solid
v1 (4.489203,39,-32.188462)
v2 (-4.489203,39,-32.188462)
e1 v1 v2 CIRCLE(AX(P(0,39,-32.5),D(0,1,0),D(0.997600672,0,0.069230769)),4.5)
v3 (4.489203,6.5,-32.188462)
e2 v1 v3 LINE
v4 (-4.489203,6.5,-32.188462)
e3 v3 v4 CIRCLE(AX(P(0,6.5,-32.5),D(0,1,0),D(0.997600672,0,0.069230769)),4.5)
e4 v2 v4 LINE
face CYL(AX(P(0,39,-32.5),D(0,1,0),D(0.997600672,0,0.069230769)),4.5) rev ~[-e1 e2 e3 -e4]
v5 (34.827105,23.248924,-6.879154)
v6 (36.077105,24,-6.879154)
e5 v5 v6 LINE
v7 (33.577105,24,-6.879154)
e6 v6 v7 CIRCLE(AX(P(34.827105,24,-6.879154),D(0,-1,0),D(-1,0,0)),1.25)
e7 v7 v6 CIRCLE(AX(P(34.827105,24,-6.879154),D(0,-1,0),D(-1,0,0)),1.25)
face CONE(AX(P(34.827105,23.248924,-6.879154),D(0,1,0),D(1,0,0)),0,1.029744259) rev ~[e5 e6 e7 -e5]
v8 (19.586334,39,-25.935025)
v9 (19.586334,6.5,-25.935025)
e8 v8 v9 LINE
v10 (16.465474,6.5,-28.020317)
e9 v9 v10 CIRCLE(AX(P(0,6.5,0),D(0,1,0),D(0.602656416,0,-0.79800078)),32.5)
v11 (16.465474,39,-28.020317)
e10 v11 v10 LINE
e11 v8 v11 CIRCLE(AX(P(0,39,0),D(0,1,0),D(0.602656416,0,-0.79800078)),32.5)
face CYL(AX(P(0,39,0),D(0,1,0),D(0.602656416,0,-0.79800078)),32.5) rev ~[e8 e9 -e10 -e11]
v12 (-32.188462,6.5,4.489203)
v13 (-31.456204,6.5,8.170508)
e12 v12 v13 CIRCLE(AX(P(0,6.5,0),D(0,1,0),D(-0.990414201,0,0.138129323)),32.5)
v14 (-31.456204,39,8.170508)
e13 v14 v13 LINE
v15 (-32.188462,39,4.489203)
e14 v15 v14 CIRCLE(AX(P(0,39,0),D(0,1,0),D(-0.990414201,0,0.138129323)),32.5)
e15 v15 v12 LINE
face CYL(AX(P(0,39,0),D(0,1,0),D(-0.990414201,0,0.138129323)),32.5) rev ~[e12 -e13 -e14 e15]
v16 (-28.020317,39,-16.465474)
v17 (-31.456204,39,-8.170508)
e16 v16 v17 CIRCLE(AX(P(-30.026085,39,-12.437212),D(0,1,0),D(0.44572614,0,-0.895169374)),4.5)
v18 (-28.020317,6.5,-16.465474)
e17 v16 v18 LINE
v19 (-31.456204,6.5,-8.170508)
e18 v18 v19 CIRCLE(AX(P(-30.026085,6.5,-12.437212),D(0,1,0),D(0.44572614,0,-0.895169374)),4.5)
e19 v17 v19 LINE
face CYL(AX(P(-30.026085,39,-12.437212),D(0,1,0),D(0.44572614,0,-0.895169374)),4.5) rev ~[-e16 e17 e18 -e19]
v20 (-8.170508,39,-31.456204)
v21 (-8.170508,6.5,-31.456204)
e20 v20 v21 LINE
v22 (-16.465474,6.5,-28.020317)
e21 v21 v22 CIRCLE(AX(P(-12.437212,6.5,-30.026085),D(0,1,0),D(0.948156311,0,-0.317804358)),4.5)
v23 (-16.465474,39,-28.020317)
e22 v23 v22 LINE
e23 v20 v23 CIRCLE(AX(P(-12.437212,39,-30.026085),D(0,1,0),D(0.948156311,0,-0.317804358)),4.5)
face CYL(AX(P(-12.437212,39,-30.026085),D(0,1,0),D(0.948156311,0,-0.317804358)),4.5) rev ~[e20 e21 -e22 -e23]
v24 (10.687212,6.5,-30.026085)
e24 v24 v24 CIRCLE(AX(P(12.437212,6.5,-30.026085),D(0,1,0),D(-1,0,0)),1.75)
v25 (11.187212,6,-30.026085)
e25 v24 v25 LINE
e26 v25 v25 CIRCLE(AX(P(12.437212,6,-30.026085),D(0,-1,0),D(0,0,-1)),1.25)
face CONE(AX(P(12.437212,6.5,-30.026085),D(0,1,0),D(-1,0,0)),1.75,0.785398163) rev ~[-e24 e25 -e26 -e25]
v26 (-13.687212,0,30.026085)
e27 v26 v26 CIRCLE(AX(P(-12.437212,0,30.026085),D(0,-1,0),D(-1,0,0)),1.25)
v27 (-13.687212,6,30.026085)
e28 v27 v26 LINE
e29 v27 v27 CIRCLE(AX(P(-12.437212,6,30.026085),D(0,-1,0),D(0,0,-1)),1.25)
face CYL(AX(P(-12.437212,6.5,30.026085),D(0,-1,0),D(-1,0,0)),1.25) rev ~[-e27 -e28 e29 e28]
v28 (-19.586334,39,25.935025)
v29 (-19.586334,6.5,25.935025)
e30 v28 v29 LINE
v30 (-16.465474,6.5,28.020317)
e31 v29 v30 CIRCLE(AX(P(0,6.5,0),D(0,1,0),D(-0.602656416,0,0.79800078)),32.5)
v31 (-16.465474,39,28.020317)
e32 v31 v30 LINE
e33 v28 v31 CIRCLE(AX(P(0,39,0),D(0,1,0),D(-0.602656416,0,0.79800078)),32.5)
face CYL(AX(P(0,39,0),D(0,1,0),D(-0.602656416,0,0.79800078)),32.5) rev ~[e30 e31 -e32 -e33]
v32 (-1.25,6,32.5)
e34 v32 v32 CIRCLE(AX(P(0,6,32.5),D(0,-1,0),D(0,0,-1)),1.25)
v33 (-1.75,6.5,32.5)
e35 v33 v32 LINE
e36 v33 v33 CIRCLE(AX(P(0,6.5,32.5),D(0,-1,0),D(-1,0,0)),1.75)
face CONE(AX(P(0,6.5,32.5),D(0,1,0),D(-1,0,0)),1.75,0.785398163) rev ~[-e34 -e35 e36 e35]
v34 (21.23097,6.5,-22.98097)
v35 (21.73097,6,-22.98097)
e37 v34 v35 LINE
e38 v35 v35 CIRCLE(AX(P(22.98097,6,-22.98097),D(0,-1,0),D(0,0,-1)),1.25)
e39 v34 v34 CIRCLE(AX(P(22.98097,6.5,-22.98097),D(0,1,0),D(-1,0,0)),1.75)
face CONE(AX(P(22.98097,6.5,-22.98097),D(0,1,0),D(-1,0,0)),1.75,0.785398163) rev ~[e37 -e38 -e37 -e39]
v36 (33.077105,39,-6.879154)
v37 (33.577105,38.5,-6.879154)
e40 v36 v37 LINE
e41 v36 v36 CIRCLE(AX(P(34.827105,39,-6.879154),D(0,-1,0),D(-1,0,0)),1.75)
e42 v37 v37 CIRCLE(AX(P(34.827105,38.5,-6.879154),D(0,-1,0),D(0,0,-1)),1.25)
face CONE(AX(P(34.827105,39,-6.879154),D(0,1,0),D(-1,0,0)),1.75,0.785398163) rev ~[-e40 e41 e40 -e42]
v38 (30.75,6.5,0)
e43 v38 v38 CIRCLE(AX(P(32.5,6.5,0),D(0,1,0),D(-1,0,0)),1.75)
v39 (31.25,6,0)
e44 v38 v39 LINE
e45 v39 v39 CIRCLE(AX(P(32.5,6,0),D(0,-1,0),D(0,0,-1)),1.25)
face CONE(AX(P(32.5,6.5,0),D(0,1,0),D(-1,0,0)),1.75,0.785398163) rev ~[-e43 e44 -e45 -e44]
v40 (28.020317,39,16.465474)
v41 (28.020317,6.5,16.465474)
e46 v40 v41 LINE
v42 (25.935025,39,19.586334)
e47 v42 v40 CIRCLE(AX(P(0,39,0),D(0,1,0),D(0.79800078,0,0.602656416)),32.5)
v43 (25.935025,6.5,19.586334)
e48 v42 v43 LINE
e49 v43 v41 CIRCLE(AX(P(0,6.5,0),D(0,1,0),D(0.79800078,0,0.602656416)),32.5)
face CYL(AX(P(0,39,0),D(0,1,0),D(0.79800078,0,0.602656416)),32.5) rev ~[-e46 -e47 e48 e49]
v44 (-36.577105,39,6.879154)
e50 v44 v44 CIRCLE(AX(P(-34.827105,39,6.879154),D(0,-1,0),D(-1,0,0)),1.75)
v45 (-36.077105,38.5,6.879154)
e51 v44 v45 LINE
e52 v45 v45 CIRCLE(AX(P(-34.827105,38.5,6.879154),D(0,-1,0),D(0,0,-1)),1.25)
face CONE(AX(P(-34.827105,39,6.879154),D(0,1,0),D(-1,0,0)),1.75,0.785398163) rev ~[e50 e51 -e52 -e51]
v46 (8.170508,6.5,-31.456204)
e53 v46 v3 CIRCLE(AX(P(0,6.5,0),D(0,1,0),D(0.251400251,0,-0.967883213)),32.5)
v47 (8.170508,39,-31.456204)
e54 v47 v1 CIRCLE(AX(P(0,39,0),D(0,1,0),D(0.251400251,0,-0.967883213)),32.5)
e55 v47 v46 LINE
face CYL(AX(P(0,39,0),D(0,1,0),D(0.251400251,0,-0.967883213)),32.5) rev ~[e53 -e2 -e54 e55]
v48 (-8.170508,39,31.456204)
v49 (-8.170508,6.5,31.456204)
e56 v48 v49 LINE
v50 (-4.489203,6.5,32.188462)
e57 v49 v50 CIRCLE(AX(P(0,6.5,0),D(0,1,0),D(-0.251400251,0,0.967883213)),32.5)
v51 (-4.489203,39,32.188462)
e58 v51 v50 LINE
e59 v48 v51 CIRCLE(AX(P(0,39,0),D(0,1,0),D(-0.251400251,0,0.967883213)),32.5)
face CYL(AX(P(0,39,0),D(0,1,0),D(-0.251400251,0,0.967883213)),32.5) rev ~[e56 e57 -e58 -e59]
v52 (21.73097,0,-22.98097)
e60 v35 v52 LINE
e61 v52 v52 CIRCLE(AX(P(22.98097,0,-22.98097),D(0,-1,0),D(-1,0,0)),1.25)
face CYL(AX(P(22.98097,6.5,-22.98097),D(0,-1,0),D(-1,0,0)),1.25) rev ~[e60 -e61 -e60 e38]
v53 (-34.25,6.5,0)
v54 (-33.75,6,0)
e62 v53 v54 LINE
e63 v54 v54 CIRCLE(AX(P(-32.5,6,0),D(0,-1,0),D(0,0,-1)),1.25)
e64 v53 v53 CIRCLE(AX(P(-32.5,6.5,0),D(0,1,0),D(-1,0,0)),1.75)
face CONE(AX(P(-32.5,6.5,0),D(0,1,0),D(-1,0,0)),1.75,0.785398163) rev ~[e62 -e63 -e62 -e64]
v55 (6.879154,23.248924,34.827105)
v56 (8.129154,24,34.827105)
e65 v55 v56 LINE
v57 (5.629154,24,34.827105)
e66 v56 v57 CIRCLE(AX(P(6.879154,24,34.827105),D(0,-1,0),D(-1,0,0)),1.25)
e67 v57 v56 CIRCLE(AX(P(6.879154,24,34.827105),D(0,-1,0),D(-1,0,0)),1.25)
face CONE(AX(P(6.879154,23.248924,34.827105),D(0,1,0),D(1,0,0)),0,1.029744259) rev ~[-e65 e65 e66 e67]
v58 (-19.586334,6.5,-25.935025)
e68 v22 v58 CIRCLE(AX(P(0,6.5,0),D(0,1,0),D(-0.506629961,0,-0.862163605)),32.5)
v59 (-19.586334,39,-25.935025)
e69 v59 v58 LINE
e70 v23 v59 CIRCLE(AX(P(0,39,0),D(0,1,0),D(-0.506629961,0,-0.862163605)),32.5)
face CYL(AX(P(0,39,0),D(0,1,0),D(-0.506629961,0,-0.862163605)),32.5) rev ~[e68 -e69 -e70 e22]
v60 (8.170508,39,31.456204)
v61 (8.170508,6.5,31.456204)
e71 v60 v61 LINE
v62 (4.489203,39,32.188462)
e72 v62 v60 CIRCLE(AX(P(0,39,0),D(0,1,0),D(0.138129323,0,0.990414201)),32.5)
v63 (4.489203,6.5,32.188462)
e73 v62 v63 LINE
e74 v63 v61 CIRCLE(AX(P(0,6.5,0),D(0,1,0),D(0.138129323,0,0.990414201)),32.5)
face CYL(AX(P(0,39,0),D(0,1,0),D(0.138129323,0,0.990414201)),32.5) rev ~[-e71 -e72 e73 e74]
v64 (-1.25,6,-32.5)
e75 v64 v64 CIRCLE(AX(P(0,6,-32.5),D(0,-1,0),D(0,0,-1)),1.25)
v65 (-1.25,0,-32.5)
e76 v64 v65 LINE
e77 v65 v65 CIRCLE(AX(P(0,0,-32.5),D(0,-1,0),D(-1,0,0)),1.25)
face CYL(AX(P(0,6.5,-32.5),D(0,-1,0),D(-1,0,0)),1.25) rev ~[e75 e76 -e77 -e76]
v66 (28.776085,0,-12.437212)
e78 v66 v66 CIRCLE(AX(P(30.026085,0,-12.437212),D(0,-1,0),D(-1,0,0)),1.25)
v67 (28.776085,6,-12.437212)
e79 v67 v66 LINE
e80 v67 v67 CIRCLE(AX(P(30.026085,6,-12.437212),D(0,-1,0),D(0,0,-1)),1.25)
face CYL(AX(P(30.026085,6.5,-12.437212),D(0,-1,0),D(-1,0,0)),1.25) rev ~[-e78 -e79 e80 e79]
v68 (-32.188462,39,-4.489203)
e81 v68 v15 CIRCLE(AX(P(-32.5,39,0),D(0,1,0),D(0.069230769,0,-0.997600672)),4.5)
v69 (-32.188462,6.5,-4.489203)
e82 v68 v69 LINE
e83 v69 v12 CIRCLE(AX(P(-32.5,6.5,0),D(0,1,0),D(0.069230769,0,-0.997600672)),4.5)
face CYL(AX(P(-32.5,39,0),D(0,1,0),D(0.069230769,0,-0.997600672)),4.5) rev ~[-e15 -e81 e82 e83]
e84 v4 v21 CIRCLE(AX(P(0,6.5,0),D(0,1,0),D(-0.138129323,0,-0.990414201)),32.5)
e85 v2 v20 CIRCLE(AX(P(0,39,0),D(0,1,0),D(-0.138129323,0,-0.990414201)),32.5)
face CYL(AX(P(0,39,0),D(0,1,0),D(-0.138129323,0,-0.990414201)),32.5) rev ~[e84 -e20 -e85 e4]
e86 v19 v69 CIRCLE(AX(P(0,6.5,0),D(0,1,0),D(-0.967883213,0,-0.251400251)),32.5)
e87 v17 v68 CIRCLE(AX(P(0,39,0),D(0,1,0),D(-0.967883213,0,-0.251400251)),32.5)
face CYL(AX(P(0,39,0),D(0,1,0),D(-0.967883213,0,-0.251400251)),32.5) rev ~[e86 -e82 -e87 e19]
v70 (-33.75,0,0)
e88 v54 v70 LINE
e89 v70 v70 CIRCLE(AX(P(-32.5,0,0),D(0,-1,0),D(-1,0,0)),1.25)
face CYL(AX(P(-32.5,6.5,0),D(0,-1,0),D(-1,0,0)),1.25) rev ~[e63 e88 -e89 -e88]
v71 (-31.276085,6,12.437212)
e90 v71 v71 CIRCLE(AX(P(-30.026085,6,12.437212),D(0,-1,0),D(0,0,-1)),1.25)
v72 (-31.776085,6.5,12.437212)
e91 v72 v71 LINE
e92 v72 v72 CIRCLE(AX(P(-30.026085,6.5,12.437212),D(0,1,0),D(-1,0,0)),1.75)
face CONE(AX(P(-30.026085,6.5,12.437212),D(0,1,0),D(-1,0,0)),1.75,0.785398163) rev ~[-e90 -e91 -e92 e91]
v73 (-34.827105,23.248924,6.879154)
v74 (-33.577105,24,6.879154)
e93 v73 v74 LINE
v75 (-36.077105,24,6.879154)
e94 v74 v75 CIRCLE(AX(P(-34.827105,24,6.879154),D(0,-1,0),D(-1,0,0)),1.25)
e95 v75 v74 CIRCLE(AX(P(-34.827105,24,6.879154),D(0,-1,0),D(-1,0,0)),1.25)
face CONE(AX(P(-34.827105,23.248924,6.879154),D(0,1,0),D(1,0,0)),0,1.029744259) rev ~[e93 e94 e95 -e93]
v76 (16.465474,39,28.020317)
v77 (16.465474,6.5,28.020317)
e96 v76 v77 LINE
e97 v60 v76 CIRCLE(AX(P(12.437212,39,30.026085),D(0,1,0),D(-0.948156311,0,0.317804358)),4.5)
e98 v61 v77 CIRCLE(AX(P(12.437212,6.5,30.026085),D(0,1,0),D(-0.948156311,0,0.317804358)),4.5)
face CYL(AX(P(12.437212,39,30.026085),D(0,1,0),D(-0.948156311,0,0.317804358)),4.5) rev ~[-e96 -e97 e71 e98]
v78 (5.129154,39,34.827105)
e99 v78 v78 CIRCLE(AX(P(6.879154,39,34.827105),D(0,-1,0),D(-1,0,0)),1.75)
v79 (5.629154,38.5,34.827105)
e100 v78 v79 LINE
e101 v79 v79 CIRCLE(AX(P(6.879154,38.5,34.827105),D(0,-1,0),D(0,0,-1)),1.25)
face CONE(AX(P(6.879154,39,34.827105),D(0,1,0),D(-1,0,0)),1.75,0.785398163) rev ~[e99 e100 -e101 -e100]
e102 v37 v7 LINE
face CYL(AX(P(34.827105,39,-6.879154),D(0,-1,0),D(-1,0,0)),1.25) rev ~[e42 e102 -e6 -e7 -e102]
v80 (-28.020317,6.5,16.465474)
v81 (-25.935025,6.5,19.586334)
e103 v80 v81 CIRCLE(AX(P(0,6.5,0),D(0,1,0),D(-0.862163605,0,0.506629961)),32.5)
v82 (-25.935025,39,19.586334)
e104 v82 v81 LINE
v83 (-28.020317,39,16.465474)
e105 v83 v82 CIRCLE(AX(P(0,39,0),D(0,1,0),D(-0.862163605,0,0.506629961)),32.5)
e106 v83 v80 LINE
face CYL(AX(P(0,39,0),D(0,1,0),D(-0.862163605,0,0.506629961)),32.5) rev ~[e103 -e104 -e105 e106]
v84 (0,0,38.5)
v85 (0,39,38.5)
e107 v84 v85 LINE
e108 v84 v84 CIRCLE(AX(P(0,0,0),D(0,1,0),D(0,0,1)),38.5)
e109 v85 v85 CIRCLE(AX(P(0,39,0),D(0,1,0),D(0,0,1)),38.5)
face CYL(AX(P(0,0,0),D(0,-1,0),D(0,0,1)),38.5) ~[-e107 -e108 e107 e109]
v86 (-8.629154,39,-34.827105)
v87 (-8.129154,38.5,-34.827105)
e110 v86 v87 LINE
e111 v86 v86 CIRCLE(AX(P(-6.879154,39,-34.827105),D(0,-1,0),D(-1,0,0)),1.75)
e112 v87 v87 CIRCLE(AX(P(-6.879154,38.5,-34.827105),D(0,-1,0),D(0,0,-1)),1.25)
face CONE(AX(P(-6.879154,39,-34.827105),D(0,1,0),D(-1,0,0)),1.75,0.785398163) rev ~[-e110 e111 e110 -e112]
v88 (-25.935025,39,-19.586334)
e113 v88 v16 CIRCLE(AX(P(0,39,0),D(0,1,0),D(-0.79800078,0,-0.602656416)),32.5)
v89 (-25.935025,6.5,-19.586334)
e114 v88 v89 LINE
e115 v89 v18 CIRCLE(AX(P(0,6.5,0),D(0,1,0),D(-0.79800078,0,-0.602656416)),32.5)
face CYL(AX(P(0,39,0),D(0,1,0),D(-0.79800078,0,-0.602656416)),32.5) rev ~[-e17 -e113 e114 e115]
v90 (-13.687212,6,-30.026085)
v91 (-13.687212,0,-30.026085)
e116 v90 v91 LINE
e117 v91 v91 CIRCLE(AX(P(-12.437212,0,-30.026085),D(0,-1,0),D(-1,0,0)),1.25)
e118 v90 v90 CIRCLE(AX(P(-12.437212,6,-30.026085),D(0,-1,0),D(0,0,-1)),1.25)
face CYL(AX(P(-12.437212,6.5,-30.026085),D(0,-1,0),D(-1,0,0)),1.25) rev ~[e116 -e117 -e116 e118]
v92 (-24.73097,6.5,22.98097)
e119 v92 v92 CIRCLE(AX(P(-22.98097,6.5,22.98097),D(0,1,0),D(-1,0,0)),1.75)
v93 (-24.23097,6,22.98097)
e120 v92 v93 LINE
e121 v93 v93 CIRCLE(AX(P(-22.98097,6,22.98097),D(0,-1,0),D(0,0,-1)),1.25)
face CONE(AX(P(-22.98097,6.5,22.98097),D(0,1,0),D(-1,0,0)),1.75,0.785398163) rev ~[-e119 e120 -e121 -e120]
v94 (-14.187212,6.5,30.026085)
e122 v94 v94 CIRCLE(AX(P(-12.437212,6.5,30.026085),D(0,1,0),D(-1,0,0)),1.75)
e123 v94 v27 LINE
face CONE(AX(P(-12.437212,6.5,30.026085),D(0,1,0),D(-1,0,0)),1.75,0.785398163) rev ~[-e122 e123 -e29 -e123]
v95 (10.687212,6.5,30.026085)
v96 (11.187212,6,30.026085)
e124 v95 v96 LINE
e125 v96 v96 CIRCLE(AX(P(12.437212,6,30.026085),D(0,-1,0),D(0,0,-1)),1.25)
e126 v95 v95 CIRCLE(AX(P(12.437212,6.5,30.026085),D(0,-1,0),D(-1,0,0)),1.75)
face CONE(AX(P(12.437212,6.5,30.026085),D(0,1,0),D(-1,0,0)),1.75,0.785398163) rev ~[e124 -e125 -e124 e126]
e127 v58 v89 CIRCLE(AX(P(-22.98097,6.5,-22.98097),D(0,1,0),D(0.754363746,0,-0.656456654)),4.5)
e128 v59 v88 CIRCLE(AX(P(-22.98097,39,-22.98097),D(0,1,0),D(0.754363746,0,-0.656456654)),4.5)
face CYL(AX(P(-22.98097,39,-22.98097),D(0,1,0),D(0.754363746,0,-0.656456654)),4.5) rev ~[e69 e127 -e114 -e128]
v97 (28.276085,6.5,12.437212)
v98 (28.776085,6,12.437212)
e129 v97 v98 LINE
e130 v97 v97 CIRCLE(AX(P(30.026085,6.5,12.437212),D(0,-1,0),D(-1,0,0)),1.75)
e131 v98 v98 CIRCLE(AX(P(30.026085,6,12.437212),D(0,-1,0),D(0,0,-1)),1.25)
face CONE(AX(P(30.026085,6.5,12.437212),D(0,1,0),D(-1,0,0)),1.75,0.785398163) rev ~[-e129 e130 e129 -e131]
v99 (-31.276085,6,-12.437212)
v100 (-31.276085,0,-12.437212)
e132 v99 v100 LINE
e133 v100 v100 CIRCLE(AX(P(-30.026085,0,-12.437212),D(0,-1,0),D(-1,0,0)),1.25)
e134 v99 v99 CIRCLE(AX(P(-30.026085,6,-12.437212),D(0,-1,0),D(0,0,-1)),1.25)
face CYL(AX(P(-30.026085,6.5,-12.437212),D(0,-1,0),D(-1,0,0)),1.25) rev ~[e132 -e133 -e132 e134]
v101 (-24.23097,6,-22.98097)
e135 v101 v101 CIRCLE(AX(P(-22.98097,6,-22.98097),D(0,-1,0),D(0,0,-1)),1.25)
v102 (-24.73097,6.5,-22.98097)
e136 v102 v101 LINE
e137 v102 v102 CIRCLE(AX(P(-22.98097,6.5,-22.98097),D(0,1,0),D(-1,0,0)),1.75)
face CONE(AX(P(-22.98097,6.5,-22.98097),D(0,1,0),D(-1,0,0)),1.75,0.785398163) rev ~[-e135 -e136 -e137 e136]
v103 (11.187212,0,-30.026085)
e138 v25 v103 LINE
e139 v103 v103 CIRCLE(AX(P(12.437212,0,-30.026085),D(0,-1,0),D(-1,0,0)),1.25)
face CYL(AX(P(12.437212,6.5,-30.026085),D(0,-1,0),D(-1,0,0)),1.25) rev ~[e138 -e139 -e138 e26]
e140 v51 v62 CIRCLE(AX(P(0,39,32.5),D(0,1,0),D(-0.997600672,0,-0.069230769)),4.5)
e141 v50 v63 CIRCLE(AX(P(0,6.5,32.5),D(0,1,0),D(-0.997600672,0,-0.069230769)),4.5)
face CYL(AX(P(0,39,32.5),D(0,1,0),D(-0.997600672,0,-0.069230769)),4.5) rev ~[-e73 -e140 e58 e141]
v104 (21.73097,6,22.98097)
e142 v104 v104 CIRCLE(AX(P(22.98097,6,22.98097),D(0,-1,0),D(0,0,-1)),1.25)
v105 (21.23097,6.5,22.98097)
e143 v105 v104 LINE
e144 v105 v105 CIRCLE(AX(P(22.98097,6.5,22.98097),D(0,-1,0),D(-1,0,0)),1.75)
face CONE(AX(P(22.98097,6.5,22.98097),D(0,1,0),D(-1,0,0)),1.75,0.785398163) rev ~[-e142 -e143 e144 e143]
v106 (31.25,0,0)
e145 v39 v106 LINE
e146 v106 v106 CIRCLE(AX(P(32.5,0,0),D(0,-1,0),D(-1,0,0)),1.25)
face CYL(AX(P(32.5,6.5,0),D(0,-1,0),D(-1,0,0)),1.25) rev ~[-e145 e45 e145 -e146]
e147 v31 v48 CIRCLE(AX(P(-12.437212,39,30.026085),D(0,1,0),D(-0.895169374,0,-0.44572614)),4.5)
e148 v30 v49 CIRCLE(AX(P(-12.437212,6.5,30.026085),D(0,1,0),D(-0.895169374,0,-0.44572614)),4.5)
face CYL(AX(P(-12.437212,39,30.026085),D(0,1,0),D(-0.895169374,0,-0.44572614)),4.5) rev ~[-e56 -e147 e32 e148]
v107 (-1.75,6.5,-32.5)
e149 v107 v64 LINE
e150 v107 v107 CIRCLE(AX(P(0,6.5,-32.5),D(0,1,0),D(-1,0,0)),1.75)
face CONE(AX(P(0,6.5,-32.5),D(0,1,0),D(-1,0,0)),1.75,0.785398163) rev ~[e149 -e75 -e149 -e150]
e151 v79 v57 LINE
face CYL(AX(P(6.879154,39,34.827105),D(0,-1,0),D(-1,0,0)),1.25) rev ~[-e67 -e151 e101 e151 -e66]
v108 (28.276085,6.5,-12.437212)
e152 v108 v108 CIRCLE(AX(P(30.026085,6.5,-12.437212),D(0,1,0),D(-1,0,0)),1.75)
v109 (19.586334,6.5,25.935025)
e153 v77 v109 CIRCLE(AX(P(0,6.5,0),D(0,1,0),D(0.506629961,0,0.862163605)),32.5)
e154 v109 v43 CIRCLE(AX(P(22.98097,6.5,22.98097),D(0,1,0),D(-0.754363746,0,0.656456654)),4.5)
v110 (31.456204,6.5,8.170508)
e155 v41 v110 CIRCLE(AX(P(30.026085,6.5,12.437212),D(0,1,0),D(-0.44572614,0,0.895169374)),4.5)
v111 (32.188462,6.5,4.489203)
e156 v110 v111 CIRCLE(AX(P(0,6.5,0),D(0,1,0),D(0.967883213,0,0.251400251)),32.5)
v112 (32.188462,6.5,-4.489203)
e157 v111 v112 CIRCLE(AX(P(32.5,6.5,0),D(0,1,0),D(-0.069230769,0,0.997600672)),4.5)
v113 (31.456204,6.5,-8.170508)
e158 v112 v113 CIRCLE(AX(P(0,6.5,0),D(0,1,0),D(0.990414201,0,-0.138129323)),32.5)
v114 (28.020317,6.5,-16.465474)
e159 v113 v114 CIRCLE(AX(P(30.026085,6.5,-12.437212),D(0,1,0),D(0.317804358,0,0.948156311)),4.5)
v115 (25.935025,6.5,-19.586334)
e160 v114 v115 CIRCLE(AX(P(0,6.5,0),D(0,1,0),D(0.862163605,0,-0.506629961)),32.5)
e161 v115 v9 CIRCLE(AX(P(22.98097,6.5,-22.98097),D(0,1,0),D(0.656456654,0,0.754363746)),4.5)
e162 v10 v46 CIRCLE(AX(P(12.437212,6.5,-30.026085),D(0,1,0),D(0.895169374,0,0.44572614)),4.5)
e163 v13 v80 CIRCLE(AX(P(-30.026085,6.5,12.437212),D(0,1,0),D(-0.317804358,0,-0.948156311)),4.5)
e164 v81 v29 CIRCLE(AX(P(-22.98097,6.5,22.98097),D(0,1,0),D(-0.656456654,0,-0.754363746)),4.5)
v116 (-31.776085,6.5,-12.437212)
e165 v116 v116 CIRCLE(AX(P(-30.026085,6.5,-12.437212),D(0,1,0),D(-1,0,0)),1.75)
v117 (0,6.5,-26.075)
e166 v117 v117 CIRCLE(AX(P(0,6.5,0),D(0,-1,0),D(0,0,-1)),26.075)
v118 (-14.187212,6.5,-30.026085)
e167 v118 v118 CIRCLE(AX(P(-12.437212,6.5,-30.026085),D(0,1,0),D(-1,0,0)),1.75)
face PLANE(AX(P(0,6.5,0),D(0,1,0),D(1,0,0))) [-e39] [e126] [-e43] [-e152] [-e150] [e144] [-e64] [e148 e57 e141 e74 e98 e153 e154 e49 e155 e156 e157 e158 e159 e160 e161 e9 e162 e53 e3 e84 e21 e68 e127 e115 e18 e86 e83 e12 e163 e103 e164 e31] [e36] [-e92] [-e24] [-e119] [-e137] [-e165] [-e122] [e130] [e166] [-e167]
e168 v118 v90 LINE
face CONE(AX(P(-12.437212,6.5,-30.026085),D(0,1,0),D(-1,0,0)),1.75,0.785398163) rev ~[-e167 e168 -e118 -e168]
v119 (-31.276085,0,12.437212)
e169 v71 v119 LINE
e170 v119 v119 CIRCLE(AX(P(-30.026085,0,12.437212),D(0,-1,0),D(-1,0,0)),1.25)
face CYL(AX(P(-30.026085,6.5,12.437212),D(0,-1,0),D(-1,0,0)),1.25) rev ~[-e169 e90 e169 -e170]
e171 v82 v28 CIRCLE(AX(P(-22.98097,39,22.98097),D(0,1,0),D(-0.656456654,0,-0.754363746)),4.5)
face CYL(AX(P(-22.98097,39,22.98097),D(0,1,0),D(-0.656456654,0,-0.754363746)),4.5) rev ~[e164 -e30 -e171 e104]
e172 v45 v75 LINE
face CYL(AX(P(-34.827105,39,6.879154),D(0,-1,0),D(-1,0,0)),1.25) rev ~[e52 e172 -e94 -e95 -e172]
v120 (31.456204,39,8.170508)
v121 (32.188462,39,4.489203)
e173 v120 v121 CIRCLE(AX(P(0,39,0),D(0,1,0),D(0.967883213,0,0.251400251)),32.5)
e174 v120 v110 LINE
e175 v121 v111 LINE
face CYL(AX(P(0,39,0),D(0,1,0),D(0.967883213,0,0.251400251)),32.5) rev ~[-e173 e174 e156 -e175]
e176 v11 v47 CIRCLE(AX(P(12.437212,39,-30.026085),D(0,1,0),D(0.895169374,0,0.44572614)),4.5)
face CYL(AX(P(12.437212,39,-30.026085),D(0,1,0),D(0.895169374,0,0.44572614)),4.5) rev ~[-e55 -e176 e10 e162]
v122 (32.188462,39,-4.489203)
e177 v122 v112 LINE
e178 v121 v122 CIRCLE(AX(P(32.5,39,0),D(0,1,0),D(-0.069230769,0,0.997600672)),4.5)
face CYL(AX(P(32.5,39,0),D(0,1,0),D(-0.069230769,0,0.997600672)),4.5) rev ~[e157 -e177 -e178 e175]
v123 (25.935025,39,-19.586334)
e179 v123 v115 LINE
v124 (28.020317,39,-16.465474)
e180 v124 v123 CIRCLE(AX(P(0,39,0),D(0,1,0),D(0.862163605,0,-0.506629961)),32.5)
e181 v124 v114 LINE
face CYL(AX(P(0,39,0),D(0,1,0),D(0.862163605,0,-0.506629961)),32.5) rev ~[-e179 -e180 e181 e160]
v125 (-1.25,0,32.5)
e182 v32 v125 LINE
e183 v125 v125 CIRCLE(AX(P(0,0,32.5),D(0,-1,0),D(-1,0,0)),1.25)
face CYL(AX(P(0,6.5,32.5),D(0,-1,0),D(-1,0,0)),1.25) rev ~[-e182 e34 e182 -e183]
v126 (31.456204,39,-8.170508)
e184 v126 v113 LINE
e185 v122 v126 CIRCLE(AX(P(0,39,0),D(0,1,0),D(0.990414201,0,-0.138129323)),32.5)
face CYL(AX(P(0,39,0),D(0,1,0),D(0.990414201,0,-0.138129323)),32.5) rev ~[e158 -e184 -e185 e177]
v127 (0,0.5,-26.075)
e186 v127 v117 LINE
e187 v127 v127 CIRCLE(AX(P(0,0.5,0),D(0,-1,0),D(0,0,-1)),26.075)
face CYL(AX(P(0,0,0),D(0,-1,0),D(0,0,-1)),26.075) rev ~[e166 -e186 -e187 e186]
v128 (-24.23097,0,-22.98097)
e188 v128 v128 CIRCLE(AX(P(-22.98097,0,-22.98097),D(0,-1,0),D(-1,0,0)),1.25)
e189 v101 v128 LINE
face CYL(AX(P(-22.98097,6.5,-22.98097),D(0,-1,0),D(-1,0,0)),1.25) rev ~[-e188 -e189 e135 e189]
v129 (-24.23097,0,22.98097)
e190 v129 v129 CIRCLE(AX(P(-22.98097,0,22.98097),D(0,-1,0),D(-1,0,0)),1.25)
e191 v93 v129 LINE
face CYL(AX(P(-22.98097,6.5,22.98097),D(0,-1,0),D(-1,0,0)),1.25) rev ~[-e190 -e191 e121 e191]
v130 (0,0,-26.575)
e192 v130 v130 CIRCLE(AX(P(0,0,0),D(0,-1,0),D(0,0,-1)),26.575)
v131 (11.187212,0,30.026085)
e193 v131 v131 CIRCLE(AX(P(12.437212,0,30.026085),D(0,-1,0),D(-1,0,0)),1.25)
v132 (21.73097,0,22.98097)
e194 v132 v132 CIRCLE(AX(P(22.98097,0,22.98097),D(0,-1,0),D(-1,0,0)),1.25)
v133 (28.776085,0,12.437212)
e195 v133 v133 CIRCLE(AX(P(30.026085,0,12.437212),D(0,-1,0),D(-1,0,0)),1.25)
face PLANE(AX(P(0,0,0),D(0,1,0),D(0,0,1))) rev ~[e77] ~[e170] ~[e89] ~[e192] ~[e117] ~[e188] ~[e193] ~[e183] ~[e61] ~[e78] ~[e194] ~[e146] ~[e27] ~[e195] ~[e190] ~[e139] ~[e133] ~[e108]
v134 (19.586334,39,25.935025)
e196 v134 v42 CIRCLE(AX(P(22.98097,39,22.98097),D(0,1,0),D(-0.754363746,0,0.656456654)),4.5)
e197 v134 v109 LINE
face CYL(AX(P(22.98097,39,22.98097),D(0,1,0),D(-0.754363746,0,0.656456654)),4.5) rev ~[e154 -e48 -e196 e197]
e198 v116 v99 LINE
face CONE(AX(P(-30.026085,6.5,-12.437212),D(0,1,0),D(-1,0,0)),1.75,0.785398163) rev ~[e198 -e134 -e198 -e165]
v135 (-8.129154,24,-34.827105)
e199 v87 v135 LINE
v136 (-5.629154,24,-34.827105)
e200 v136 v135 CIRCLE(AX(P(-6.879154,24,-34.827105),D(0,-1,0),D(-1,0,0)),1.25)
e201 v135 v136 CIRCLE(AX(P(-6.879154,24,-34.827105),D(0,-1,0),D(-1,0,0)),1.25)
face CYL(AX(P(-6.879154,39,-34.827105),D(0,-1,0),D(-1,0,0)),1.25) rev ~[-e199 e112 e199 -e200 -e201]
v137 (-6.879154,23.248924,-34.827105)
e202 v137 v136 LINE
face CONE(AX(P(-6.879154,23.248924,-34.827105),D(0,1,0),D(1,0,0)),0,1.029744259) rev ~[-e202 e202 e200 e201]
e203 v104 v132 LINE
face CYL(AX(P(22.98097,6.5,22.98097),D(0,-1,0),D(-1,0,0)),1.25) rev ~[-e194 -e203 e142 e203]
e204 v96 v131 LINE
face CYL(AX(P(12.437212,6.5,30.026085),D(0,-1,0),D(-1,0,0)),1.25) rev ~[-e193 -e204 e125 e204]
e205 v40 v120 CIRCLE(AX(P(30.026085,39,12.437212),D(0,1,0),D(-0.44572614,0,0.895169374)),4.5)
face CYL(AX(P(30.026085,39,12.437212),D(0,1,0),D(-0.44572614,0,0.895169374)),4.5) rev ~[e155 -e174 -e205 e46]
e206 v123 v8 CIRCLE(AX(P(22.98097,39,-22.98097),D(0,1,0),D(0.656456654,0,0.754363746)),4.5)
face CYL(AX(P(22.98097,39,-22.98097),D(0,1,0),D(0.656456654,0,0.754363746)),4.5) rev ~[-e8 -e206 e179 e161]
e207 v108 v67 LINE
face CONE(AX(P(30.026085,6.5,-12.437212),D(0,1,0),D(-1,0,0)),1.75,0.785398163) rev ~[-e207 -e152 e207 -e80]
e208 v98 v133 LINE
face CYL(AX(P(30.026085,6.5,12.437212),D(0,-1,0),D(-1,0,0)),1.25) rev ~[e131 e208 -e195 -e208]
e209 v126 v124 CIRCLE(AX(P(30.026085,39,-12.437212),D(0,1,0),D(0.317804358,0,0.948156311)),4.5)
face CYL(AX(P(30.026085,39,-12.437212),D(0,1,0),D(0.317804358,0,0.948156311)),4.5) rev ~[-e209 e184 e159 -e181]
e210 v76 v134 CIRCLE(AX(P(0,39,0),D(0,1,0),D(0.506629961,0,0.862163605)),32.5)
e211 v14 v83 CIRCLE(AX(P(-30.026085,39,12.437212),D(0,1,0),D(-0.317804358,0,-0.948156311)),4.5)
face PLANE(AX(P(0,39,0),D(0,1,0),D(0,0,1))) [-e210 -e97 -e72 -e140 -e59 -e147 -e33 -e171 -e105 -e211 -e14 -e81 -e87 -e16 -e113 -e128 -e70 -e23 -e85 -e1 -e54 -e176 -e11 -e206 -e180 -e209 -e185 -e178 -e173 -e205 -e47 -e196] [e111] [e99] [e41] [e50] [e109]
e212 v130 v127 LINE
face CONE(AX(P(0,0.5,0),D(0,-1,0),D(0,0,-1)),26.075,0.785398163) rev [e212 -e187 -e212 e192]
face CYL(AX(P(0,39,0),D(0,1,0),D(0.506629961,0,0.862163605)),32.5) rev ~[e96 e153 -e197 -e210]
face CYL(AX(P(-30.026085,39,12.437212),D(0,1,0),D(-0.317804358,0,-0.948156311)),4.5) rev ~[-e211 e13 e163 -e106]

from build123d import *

# Parameters (mm, degrees)
SKIZZE1_R                                  = 38.5
AUFSATZ_LINEAR_AUSTRAGEN1_DEPTH            = 39
SCHNITT_LINEAR_AUSTRAGEN1_DEPTH            = 32.5
SKIZZE3_R                                  = 26.075
SCHNITT_LINEAR_AUSTRAGEN2_DEPTH            = 67.973875504
F_2_5_2_5_DURCHMESSER_BOHRUNG1_D           = 2.5
F_2_5_2_5_DURCHMESSER_BOHRUNG1_CSINK_D     = 3.5
F_2_5_2_5_DURCHMESSER_BOHRUNG1_CSINK_ANGLE = 90
F_2_5_2_5_DURCHMESSER_BOHRUNG2_D           = 2.5
F_2_5_2_5_DURCHMESSER_BOHRUNG2_DEPTH       = 15
F_2_5_2_5_DURCHMESSER_BOHRUNG2_CSINK_D     = 3.5
F_2_5_2_5_DURCHMESSER_BOHRUNG2_CSINK_ANGLE = 90
F_2_5_2_5_DURCHMESSER_BOHRUNG2_TIP         = 0.751075774
FASE1_SIZE                                 = 0.5


with BuildPart() as part:
    # Skizze1 → Aufsatz-Linear austragen1 (new body)
    with BuildSketch(Plane(origin=(0, 0, 0), x_dir=(1, 0, 0), z_dir=(0, 1, 0))):
        with Locations(Location((0, 0, 0), (0, 0, 270))):
            Circle(SKIZZE1_R)
    extrude(amount=AUFSATZ_LINEAR_AUSTRAGEN1_DEPTH)

    # Skizze2 → Schnitt-Linear austragen1 (cut)
    with BuildSketch(Plane(origin=(0, 39, 0), x_dir=(1, 0, 0), z_dir=(0, 1, 0))):
        with BuildLine():
            ThreePointArc((4.489203024, 32.188461538), (0, 37), (-4.489203024, 32.188461538))
            ThreePointArc((-4.489203024, 32.188461538), (-6.340435466, 31.875521613), (-8.170508153, 31.45620442))
            ThreePointArc((-8.170508153, 31.45620442), (-14.159286998, 34.183542703), (-16.465473735, 28.020317177))
            ThreePointArc((-16.465473735, 28.020317177), (-18.056032573, 27.0227624), (-19.58633353, 25.93502533))
            ThreePointArc((-19.58633353, 25.93502533), (-26.162950904, 26.162950904), (-25.93502533, 19.58633353))
            ThreePointArc((-25.93502533, 19.58633353), (-27.0227624, 18.056032573), (-28.020317177, 16.465473735))
            ThreePointArc((-28.020317177, 16.465473735), (-34.183542703, 14.159286998), (-31.45620442, 8.170508153))
            ThreePointArc((-31.45620442, 8.170508153), (-31.875521613, 6.340435466), (-32.188461538, 4.489203024))
            ThreePointArc((-32.188461538, 4.489203024), (-37, 0), (-32.188461538, -4.489203024))
            ThreePointArc((-32.188461538, -4.489203024), (-31.875521613, -6.340435466), (-31.45620442, -8.170508153))
            ThreePointArc((-31.45620442, -8.170508153), (-34.183542703, -14.159286998), (-28.020317177, -16.465473735))
            ThreePointArc((-28.020317177, -16.465473735), (-27.0227624, -18.056032573), (-25.93502533, -19.58633353))
            ThreePointArc((-25.93502533, -19.58633353), (-26.162950904, -26.162950904), (-19.58633353, -25.93502533))
            ThreePointArc((-19.58633353, -25.93502533), (-18.056032573, -27.0227624), (-16.465473735, -28.020317177))
            ThreePointArc((-16.465473735, -28.020317177), (-14.159286998, -34.183542703), (-8.170508153, -31.45620442))
            ThreePointArc((-8.170508153, -31.45620442), (-6.340435466, -31.875521613), (-4.489203024, -32.188461538))
            ThreePointArc((-4.489203024, -32.188461538), (0, -37), (4.489203024, -32.188461538))
            ThreePointArc((4.489203024, -32.188461538), (6.340435466, -31.875521613), (8.170508153, -31.45620442))
            ThreePointArc((8.170508153, -31.45620442), (14.159286998, -34.183542703), (16.465473735, -28.020317177))
            ThreePointArc((16.465473735, -28.020317177), (18.056032573, -27.0227624), (19.58633353, -25.93502533))
            ThreePointArc((19.58633353, -25.93502533), (26.162950904, -26.162950904), (25.93502533, -19.58633353))
            ThreePointArc((25.93502533, -19.58633353), (27.0227624, -18.056032573), (28.020317177, -16.465473735))
            ThreePointArc((28.020317177, -16.465473735), (34.183542703, -14.159286998), (31.45620442, -8.170508153))
            ThreePointArc((31.45620442, -8.170508153), (31.875521613, -6.340435466), (32.188461538, -4.489203024))
            ThreePointArc((32.188461538, -4.489203024), (37, 0), (32.188461538, 4.489203024))
            ThreePointArc((32.188461538, 4.489203024), (31.875521613, 6.340435466), (31.45620442, 8.170508153))
            ThreePointArc((31.45620442, 8.170508153), (34.183542703, 14.159286998), (28.020317177, 16.465473735))
            ThreePointArc((28.020317177, 16.465473735), (27.0227624, 18.056032573), (25.93502533, 19.58633353))
            ThreePointArc((25.93502533, 19.58633353), (26.162950904, 26.162950904), (19.58633353, 25.93502533))
            ThreePointArc((19.58633353, 25.93502533), (18.056032573, 27.0227624), (16.465473735, 28.020317177))
            ThreePointArc((16.465473735, 28.020317177), (14.159286998, 34.183542703), (8.170508153, 31.45620442))
            ThreePointArc((8.170508153, 31.45620442), (6.340435466, 31.875521613), (4.489203024, 32.188461538))
        make_face()
    extrude(amount=-SCHNITT_LINEAR_AUSTRAGEN1_DEPTH, mode=Mode.SUBTRACT)

    # Skizze3 → Schnitt-Linear austragen2 (cut, through all)
    with BuildSketch(Plane.XZ):
        with Locations(Location((0, 0, 0), (0, 0, 270))):
            Circle(SKIZZE3_R)
    extrude(amount=-SCHNITT_LINEAR_AUSTRAGEN2_DEPTH, mode=Mode.SUBTRACT)

    # Ø2.5 (2.5) Durchmesser Bohrung1 (through all)
    with Locations(Plane(origin=(0, 6.5, 0), x_dir=(1, 0, 0), z_dir=(0, 1, 0))):
        with Locations((0, 32.5), (12.437211552, 30.026084807), (22.980970389, 22.980970389), (30.026084807, 12.437211552), (32.5, 0), (30.026084807, -12.437211552), (22.980970389, -22.980970389), (12.437211552, -30.026084807), (0, -32.5), (-12.437211552, -30.026084807), (-22.980970389, -22.980970389), (-30.026084807, -12.437211552), (-32.5, 0), (-30.026084807, 12.437211552), (-22.980970389, 22.980970389), (-12.437211552, 30.026084807)):
            CounterSinkHole(F_2_5_2_5_DURCHMESSER_BOHRUNG1_D / 2, F_2_5_2_5_DURCHMESSER_BOHRUNG1_CSINK_D / 2, counter_sink_angle=F_2_5_2_5_DURCHMESSER_BOHRUNG1_CSINK_ANGLE)

    # Ø2.5 (2.5) Durchmesser Bohrung2
    with Locations(Plane(origin=(0, 39, 0), x_dir=(1, 0, 0), z_dir=(0, 1, 0))):
        with Locations((-34.827105043, -6.879153607), (-6.879153607, 34.827105043), (34.827105043, 6.879153607), (6.879153607, -34.827105043)):
            CounterSinkHole(F_2_5_2_5_DURCHMESSER_BOHRUNG2_D / 2, F_2_5_2_5_DURCHMESSER_BOHRUNG2_CSINK_D / 2, depth=F_2_5_2_5_DURCHMESSER_BOHRUNG2_DEPTH, counter_sink_angle=F_2_5_2_5_DURCHMESSER_BOHRUNG2_CSINK_ANGLE)
            with Locations((0, 0, -(F_2_5_2_5_DURCHMESSER_BOHRUNG2_DEPTH + F_2_5_2_5_DURCHMESSER_BOHRUNG2_TIP / 2))):  # 118° drill point
                Cone(0, F_2_5_2_5_DURCHMESSER_BOHRUNG2_D / 2, F_2_5_2_5_DURCHMESSER_BOHRUNG2_TIP, mode=Mode.SUBTRACT)

    # Fase1
    fase1_edges = [part.edges().sort_by_distance(p)[0] for p in [
        (0, 0, 26.075),
    ]]
    chamfer(fase1_edges, length=FASE1_SIZE)


solid = part.part
